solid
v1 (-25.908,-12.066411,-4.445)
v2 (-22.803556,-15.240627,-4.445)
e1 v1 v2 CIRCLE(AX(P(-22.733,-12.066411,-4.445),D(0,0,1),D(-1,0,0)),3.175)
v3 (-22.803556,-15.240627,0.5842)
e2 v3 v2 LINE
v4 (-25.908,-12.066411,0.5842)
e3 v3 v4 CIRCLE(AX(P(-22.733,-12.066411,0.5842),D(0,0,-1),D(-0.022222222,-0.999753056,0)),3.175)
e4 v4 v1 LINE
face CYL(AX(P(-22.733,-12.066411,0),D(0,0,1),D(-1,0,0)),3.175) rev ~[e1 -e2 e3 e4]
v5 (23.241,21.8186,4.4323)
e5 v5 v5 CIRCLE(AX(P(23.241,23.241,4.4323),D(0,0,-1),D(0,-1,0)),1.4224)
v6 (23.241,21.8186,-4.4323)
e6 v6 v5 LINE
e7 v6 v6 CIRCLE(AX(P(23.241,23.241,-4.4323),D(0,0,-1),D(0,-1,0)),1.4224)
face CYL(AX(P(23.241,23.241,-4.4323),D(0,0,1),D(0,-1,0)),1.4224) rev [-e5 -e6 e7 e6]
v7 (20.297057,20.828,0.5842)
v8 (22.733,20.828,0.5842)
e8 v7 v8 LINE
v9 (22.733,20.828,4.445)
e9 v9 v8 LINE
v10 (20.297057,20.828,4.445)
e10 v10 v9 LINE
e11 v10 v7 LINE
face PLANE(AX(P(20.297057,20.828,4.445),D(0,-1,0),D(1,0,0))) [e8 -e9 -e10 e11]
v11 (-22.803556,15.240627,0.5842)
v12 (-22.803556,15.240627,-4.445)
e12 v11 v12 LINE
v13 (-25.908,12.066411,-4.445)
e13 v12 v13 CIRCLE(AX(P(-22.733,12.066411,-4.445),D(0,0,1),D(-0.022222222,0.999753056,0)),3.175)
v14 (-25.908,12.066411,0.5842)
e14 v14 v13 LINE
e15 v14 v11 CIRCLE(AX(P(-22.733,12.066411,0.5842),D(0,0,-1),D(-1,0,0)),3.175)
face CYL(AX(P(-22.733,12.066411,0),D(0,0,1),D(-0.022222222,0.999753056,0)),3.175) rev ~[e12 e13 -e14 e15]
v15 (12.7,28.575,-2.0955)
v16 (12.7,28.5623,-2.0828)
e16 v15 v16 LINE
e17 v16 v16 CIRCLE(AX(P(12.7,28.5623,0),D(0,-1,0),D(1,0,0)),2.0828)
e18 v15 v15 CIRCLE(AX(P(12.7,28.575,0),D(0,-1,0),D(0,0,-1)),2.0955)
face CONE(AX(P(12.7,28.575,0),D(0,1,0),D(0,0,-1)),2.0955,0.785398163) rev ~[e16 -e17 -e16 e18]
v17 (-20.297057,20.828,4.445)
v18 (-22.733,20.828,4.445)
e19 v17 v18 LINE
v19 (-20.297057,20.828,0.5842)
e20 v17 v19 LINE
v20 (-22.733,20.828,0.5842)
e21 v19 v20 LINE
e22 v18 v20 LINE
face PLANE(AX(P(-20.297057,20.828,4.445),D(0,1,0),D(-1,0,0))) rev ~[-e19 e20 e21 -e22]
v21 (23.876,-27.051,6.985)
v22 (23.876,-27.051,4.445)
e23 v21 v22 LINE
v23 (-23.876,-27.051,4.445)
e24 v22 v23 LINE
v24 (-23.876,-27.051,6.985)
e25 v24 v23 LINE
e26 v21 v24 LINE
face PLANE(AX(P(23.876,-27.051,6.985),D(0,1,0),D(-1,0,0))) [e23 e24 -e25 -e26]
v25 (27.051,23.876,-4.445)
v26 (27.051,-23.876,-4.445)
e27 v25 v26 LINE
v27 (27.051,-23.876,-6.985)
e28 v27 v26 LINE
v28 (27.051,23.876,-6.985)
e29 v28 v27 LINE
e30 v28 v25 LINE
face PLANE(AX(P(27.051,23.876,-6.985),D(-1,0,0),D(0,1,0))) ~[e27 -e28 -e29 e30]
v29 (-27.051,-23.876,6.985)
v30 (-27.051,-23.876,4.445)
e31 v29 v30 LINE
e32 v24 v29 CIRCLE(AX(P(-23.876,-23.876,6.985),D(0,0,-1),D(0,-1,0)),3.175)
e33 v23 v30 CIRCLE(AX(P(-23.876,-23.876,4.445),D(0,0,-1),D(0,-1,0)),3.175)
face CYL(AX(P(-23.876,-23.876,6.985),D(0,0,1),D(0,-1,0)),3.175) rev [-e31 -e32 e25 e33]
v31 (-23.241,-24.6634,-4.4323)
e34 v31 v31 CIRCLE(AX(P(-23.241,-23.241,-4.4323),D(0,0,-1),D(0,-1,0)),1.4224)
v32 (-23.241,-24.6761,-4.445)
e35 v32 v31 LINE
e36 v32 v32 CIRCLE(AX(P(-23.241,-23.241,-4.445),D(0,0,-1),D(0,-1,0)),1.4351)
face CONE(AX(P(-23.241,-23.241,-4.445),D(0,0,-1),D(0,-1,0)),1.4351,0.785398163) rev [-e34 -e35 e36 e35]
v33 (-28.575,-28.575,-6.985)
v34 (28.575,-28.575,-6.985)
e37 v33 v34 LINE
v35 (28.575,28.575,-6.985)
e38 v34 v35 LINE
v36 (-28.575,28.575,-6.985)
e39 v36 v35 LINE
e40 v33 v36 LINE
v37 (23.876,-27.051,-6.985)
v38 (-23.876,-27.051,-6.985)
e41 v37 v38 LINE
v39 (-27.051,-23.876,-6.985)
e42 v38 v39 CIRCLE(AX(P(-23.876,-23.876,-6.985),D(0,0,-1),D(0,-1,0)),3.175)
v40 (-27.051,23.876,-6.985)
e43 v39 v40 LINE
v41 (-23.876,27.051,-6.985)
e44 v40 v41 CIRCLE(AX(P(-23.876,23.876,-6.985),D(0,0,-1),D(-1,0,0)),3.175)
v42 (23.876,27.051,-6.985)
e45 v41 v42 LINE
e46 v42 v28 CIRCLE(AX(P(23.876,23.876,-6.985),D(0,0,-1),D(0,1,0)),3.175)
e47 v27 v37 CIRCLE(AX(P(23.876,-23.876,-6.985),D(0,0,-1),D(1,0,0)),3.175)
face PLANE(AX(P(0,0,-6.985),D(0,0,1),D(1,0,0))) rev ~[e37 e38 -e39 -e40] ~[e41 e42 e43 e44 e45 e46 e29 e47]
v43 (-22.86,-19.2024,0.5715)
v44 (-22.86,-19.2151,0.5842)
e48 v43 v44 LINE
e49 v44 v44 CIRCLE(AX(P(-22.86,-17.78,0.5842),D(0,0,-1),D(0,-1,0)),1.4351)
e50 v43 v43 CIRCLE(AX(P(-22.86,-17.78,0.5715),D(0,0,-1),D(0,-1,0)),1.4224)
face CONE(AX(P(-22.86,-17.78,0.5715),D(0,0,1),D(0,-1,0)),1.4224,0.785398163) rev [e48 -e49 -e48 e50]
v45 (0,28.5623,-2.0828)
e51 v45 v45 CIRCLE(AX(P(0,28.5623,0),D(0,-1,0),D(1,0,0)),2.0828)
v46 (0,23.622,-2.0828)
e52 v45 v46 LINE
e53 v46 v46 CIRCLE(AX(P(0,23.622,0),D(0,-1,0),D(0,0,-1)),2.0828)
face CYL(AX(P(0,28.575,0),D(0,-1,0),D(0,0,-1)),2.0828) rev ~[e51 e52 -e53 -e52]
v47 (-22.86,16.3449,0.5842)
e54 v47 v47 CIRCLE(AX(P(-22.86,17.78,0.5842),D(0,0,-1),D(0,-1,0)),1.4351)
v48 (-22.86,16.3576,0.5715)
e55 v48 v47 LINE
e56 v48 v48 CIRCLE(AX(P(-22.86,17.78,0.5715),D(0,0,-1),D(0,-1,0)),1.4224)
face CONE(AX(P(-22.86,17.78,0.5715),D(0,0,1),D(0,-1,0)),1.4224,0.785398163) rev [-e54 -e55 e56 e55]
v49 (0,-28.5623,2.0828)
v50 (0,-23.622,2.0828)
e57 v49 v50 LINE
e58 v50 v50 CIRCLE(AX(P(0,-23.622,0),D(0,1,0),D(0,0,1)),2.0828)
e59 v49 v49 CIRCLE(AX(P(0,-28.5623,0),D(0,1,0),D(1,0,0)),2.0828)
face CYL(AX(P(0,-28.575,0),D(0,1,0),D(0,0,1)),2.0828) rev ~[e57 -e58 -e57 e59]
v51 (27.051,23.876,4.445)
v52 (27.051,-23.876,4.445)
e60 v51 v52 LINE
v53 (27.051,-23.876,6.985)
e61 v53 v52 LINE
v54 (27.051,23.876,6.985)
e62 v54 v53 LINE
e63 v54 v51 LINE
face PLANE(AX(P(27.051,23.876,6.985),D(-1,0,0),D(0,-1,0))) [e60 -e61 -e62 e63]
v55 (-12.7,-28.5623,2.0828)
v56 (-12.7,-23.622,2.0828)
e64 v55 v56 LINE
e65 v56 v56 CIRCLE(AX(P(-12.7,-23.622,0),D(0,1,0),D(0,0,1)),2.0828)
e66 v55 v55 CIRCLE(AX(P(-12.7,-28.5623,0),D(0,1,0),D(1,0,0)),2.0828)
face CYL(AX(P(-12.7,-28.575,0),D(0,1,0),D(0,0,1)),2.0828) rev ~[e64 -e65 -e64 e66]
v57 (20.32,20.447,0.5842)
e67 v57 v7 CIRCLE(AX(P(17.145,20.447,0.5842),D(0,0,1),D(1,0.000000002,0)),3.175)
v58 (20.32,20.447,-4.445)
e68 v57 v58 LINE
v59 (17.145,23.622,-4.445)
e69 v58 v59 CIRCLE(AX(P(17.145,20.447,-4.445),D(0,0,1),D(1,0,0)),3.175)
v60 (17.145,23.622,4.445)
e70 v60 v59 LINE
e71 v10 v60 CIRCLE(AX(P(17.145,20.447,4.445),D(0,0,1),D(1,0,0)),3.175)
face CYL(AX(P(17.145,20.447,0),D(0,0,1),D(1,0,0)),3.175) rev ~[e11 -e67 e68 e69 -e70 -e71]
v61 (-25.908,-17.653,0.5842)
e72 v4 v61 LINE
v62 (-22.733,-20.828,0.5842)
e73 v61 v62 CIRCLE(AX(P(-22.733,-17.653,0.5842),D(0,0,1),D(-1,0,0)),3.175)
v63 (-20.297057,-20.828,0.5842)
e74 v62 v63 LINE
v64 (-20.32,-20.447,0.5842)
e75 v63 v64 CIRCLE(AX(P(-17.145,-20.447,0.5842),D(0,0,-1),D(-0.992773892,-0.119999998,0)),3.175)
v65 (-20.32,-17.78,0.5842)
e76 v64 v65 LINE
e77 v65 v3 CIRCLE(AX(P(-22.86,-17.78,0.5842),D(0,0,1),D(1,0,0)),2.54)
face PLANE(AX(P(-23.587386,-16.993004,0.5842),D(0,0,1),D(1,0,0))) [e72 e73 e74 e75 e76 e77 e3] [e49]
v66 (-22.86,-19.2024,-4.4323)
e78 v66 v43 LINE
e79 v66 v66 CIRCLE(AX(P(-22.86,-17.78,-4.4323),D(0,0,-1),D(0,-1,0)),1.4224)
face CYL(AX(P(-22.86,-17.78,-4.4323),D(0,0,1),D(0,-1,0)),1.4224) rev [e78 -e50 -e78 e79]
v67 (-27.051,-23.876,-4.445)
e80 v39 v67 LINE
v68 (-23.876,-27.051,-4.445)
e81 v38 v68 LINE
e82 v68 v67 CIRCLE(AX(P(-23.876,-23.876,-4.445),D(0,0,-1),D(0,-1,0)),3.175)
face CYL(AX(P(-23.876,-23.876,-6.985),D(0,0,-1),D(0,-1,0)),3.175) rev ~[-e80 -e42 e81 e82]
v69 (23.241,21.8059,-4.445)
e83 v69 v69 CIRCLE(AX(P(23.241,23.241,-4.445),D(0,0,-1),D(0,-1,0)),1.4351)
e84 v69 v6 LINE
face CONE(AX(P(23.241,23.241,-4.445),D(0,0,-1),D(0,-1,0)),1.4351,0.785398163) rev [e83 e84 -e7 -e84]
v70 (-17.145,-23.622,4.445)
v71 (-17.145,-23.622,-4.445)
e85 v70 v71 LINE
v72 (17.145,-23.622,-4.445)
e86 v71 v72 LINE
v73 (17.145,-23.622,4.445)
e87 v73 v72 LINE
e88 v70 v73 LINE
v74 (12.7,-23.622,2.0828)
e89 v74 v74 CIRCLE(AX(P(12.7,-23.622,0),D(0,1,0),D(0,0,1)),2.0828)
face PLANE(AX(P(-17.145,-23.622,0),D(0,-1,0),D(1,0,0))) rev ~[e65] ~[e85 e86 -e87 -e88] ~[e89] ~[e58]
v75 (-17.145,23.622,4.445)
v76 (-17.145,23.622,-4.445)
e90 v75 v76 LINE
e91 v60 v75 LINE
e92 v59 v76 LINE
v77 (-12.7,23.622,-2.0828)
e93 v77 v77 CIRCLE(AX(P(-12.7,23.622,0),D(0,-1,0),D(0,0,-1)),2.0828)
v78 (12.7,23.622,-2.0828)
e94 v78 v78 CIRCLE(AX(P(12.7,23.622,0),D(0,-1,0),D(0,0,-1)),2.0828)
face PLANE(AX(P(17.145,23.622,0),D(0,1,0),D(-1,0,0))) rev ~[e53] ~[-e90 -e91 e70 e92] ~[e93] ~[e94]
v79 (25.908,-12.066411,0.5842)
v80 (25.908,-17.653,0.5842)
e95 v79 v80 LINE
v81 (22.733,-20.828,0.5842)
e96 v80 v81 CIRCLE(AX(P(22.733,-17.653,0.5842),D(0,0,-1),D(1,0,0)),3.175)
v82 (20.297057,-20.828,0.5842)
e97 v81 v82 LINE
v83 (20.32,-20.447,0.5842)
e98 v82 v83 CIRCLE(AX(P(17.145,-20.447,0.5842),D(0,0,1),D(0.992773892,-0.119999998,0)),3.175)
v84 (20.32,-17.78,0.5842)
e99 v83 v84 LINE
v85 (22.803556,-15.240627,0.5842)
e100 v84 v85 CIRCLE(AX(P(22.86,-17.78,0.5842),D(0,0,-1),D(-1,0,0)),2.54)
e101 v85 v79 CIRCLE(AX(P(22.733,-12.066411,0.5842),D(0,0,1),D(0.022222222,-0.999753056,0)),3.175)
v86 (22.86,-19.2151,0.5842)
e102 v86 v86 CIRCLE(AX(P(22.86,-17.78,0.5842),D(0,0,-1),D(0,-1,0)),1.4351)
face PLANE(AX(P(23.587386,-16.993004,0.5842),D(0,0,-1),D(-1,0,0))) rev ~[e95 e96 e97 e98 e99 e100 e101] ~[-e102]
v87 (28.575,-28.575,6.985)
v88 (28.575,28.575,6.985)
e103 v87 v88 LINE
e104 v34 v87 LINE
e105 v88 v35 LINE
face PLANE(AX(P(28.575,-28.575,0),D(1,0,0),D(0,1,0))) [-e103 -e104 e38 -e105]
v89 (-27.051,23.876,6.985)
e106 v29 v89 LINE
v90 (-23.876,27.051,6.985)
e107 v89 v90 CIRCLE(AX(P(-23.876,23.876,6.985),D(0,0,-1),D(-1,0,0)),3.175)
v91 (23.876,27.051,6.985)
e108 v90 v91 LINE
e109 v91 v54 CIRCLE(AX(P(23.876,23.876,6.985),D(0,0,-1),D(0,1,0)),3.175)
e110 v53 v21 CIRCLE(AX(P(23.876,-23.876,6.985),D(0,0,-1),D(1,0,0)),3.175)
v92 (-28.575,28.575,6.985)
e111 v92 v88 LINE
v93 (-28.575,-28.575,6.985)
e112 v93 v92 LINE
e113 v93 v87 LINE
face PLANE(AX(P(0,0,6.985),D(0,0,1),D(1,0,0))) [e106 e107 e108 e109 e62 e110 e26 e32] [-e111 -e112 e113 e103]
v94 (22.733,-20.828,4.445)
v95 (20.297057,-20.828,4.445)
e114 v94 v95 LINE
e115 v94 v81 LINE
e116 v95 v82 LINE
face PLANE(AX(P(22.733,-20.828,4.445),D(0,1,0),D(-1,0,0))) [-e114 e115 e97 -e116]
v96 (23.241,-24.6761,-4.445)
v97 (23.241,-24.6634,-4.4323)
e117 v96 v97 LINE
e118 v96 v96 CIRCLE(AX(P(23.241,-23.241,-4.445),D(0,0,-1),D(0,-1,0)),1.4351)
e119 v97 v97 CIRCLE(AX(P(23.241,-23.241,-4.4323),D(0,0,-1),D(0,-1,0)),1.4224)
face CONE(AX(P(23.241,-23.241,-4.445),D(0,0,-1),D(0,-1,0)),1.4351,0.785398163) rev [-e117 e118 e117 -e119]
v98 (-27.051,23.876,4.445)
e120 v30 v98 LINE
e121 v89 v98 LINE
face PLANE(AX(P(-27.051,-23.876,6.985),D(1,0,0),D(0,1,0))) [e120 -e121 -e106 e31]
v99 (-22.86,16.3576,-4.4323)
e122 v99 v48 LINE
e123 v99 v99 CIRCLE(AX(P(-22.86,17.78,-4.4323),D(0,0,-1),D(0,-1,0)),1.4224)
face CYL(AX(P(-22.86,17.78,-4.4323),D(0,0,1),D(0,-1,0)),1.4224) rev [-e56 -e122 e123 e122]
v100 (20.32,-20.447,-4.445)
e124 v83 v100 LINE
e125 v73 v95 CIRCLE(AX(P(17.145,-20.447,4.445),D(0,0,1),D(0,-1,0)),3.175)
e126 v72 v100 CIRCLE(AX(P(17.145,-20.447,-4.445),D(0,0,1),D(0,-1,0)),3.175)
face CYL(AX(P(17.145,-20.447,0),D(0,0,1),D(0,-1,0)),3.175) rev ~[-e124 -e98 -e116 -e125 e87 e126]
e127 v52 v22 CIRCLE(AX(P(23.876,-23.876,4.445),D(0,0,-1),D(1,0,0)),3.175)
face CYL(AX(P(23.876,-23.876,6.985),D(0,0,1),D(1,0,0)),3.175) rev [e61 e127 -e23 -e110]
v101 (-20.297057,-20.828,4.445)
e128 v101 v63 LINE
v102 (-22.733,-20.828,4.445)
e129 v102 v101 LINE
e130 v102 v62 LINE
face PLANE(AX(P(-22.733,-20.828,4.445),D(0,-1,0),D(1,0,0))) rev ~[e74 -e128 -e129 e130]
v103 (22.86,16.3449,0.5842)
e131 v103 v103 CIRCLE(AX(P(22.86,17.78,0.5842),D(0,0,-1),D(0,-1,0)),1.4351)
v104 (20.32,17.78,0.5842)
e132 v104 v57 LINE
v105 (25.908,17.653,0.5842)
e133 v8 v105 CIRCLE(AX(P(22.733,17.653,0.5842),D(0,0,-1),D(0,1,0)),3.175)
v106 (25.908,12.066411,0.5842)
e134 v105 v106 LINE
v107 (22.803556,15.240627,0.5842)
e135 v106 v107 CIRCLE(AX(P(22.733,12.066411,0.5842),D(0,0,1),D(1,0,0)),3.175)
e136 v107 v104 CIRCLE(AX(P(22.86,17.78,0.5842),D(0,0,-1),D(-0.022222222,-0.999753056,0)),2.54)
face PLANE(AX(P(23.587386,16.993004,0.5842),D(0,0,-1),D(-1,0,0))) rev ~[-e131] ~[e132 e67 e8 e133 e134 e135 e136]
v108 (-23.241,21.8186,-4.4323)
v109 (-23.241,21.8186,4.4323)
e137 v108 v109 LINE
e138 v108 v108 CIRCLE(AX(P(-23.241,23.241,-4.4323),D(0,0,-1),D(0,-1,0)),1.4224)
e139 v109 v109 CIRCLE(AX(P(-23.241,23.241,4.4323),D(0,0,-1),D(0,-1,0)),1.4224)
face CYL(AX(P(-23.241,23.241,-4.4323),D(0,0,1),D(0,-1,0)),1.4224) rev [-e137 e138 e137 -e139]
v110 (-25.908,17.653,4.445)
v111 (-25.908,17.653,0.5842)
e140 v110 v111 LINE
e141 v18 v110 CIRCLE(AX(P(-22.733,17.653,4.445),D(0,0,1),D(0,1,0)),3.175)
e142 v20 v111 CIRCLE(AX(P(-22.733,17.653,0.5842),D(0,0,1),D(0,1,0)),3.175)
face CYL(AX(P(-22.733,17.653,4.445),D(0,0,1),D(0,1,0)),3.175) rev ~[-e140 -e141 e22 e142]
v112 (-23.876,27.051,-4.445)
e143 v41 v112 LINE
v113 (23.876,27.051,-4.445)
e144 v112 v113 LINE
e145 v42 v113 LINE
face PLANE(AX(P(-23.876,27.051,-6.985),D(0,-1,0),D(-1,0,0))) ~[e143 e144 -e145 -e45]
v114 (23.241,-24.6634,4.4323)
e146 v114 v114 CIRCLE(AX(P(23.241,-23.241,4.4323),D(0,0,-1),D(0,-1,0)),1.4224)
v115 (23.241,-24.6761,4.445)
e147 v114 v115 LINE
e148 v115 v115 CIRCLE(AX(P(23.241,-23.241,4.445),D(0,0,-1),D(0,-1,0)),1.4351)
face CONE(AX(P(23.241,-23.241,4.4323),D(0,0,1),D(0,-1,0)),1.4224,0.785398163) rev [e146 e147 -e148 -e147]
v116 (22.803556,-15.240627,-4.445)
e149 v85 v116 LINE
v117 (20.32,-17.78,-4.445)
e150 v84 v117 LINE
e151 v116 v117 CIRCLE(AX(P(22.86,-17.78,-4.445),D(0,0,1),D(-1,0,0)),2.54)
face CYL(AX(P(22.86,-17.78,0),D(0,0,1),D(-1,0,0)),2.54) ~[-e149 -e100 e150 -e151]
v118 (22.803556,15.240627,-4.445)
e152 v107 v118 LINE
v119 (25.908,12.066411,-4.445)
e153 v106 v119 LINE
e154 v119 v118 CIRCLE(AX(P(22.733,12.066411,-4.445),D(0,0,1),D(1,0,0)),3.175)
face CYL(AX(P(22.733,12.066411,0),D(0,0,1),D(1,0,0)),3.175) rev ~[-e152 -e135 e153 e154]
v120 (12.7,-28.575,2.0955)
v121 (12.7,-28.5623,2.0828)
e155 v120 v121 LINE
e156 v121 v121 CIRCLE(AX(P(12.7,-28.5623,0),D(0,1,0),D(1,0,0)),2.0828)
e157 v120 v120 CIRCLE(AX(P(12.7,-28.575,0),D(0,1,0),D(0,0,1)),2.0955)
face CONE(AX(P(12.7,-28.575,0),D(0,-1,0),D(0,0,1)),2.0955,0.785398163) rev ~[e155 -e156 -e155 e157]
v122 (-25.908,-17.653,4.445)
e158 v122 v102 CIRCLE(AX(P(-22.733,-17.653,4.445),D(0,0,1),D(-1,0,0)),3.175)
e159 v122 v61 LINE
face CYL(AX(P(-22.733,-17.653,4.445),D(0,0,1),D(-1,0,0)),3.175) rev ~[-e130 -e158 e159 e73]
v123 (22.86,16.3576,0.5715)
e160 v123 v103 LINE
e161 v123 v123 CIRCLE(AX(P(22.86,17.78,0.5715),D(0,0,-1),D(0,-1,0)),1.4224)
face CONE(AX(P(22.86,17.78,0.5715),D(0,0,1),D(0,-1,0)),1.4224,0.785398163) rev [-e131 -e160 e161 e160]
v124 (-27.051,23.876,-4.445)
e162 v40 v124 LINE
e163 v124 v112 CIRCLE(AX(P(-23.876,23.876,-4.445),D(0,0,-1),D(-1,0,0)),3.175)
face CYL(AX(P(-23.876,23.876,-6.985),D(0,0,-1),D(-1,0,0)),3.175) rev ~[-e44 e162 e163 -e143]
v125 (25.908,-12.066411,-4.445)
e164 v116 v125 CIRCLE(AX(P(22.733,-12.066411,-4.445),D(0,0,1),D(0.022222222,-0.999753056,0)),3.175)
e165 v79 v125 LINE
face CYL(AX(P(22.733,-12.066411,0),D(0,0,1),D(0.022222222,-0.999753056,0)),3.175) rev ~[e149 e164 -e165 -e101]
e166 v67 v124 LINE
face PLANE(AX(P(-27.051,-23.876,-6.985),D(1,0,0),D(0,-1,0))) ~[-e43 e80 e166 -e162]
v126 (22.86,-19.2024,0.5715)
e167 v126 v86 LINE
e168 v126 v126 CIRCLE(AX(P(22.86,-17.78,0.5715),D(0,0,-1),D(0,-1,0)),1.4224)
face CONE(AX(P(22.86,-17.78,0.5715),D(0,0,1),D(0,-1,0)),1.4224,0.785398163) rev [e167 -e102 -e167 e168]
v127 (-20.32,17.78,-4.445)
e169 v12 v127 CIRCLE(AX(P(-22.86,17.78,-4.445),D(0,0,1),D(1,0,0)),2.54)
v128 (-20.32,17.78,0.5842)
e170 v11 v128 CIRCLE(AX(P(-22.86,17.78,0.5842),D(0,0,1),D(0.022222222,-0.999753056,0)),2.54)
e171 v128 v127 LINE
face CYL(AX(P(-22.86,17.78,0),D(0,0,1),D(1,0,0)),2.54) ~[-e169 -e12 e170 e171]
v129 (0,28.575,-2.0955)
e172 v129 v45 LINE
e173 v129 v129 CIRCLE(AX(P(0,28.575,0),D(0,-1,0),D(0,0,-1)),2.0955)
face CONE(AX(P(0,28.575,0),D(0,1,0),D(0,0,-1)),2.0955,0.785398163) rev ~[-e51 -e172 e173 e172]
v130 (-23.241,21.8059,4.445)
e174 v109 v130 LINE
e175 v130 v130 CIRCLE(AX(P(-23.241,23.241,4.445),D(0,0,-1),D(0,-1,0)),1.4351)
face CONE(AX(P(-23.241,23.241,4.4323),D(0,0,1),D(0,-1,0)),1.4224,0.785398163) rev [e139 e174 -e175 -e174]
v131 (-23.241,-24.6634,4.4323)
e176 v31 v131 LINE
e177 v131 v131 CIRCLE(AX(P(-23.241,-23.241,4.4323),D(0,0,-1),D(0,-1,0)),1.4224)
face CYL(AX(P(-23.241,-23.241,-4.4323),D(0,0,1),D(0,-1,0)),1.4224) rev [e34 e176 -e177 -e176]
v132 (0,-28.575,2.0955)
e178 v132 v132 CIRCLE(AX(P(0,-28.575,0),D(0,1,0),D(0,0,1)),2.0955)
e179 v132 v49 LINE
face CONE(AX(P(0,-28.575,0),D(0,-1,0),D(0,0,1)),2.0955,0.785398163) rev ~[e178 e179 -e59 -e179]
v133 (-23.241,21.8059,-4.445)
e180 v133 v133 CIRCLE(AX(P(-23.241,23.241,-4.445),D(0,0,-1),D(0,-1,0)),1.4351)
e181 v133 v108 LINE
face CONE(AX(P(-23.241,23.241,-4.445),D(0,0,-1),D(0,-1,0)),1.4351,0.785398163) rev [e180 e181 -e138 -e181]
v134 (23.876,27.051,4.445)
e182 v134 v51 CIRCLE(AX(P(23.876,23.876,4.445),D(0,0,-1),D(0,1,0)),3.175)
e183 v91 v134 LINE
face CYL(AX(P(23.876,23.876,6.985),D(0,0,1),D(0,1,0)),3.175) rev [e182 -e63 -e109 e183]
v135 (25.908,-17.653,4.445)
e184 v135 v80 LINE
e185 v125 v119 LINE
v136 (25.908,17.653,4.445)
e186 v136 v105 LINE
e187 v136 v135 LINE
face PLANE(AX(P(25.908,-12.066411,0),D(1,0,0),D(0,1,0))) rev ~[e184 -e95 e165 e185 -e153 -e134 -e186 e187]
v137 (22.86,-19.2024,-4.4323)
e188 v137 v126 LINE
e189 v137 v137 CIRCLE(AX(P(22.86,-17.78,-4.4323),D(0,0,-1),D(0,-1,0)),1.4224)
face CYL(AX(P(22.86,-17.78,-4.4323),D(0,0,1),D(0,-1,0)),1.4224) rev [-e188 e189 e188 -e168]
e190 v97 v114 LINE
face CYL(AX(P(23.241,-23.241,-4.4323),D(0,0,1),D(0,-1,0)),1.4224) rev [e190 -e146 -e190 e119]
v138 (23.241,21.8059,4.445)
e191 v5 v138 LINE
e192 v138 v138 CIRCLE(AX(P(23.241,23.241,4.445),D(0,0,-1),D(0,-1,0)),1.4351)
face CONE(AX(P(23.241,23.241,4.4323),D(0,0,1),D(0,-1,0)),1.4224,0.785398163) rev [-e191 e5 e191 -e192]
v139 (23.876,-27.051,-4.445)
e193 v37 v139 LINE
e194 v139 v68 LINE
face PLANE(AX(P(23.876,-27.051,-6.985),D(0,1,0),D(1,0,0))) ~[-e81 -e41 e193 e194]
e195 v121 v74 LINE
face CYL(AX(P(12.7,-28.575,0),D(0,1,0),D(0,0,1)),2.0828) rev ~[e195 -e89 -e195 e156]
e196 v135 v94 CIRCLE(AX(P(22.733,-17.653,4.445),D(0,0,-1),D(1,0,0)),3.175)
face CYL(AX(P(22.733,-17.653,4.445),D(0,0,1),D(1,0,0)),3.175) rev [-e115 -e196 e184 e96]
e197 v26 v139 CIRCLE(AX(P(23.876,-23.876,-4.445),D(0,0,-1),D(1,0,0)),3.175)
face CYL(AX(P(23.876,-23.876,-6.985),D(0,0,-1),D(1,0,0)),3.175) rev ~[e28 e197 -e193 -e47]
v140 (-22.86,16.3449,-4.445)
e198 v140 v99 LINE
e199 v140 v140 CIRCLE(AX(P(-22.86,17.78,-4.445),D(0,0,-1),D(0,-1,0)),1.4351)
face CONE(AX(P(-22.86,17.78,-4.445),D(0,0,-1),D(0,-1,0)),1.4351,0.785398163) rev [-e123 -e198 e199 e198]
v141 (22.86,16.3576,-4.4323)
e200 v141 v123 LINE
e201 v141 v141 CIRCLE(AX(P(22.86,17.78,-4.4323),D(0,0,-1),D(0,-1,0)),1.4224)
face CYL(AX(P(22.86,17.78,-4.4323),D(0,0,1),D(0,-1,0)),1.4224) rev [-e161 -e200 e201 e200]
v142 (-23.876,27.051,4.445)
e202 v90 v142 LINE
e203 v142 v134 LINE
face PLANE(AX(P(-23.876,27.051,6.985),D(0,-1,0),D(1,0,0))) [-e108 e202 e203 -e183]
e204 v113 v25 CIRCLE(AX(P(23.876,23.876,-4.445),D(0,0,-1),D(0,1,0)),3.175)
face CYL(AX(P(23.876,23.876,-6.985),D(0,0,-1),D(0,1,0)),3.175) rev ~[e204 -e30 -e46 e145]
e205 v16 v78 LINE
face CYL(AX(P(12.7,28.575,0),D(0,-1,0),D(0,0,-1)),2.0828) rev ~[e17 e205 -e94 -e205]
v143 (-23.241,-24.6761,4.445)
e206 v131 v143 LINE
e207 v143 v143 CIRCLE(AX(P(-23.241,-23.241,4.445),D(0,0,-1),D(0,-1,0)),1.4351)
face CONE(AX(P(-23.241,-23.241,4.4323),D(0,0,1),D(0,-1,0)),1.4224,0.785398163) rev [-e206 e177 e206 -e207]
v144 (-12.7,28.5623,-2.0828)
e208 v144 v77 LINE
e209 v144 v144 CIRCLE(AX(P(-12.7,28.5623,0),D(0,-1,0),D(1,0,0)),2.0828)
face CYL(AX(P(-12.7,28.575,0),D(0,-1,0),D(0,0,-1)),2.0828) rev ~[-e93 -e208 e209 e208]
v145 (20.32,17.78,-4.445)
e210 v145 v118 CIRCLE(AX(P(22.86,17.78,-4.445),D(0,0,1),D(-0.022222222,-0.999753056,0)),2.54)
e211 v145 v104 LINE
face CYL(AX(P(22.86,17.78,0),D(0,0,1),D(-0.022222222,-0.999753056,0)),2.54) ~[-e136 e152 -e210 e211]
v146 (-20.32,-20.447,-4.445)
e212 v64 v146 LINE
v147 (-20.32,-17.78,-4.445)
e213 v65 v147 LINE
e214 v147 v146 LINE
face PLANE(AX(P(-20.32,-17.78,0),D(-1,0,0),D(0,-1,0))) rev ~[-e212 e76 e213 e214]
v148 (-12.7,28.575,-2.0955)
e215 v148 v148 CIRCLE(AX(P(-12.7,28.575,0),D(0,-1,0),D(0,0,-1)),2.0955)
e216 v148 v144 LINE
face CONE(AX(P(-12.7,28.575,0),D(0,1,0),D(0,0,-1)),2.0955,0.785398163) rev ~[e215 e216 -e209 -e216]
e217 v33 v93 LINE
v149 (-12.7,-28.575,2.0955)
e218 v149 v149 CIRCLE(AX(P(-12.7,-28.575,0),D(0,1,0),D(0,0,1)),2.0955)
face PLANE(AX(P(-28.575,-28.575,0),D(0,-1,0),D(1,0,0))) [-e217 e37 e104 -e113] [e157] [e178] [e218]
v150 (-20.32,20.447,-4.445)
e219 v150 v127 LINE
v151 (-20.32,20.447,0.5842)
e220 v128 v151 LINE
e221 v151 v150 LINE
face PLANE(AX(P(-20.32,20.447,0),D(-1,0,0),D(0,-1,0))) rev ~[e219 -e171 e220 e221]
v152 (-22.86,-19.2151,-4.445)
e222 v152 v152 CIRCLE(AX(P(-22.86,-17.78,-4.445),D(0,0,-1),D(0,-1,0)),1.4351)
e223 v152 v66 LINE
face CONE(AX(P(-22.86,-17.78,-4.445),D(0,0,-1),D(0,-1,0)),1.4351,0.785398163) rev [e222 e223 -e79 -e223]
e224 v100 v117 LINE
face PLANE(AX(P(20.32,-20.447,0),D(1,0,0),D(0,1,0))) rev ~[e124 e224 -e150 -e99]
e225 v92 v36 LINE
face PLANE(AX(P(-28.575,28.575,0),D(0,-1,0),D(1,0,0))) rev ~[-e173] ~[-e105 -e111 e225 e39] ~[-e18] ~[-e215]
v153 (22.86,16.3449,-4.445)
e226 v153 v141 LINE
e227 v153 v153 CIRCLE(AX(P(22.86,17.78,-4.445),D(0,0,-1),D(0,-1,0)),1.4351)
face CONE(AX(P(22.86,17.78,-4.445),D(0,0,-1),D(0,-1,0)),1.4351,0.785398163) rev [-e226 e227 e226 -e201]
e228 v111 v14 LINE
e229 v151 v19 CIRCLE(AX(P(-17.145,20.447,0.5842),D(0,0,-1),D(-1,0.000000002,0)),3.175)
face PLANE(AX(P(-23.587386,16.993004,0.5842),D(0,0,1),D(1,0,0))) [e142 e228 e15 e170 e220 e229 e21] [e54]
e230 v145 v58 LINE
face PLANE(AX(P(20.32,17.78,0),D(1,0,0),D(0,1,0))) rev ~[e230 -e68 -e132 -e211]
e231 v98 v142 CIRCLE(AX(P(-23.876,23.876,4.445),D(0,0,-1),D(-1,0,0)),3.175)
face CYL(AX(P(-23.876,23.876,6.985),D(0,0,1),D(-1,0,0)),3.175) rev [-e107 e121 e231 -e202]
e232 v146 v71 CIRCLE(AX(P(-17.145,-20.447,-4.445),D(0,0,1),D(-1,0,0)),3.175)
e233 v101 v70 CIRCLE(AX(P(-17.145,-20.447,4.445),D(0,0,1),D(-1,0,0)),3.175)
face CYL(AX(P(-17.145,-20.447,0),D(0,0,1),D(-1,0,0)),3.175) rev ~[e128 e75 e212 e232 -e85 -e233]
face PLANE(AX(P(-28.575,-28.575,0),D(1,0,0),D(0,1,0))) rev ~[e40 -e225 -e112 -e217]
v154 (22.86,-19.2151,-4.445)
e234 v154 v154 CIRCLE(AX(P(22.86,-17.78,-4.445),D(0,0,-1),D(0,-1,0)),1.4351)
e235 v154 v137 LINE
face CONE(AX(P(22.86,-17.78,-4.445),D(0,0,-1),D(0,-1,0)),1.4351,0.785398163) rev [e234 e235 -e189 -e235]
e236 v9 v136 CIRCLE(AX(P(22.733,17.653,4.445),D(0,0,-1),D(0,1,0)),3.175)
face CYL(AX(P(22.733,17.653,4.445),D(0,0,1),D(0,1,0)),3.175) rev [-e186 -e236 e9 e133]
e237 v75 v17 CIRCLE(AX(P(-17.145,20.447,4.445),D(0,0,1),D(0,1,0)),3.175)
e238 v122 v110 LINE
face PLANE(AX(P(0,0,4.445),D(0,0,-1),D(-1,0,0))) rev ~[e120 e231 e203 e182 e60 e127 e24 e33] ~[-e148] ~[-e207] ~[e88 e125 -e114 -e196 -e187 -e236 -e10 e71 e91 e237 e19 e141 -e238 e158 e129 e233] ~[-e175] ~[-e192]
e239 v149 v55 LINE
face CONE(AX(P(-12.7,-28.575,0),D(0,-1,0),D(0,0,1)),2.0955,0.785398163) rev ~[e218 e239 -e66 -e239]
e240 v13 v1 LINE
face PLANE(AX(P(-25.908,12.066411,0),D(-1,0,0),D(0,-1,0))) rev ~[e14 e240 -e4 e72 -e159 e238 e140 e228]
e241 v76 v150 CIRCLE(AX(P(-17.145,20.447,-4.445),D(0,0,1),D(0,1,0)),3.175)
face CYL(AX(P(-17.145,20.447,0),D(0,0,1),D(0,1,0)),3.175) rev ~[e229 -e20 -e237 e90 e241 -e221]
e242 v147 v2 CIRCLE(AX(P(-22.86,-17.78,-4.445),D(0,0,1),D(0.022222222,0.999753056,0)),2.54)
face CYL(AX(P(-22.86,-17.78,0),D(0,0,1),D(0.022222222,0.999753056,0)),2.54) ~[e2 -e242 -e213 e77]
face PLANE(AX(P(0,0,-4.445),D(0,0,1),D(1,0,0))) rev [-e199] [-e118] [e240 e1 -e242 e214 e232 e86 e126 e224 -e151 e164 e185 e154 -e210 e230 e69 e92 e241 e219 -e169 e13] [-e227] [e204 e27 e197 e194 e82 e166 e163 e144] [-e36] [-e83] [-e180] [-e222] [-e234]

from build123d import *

# Parameters (mm, degrees)
SKETCH1_W_MOCK_PCB_W                      = 57.15
SKETCH1_W_MOCK_PCB_H                      = 57.15
BOSS_EXTRUDE1_DEPTH                       = 6.985
CUT_EXTRUDE1_DEPTH                        = 2.54
CUT_EXTRUDE3_DEPTH                        = 3.8608
F_4_40_TAPPED_HOLE1_AT_2_COUNT            = 2
F_4_40_TAPPED_HOLE1_AT_2_PITCH            = 45.72
F_4_40_TAPPED_HOLE1_AT_3_COUNT            = 2
F_4_40_TAPPED_HOLE1_AT_3_PITCH            = 35.56
F_4_40_TAPPED_HOLE1_AT_4_COUNT            = 2
F_4_40_TAPPED_HOLE1_AT_4_PITCH            = 57.920911595
F_4_40_TAPPED_HOLE2_AT_2_COUNT            = 2
F_4_40_TAPPED_HOLE2_AT_2_PITCH            = 46.482
F_4_40_TAPPED_HOLE2_AT_3_COUNT            = 2
F_4_40_TAPPED_HOLE2_AT_3_PITCH            = 65.735474806
F_4_40_TAPPED_HOLE2_AT_4_COUNT            = 2
F_4_40_TAPPED_HOLE2_AT_4_PITCH            = 46.482
F_8_32_TAPPED_HOLE1_D                     = 4.1656
F_8_32_TAPPED_HOLE1_DEPTH                 = 4.953
F_8_32_TAPPED_HOLE1_CSINK_D               = 4.191
F_8_32_TAPPED_HOLE1_CSINK_ANGLE           = 90
F_8_32_TAPPED_HOLE1_ON_FACE_2_D           = 4.1656
F_8_32_TAPPED_HOLE1_ON_FACE_2_DEPTH       = 4.953
F_8_32_TAPPED_HOLE1_ON_FACE_2_CSINK_D     = 4.191
F_8_32_TAPPED_HOLE1_ON_FACE_2_CSINK_ANGLE = 90


with BuildPart() as part:
    # Sketch1 w/mock PCB → Boss-Extrude1 (new body, symmetric)
    with BuildSketch(Plane.XY):
        Rectangle(SKETCH1_W_MOCK_PCB_W, SKETCH1_W_MOCK_PCB_H)
        with BuildLine():
            Line((20.32, 17.78), (20.32, 20.447))
            ThreePointArc((20.32, 20.447), (19.39006403, 22.69206403), (17.145, 23.622))
            Line((17.145, 23.622), (-17.145, 23.622))
            ThreePointArc((-17.145, 23.622), (-19.39006403, 22.69206403), (-20.32, 20.447))
            Line((-20.32, 20.447), (-20.32, 17.78))
            ThreePointArc((-20.32, 17.78), (-21.044102303, 16.004017017), (-22.803555556, 15.240627238))
            ThreePointArc((-22.803555556, 15.240627238), (-25.002872121, 14.286390014), (-25.908, 12.066411285))
            Line((-25.908, 12.066411285), (-25.908, -12.066411285))
            ThreePointArc((-25.908, -12.066411285), (-25.002872121, -14.286390014), (-22.803555556, -15.240627238))
            ThreePointArc((-22.803555556, -15.240627238), (-21.044102303, -16.004017017), (-20.32, -17.78))
            Line((-20.32, -17.78), (-20.32, -20.447))
            ThreePointArc((-20.32, -20.447), (-19.39006403, -22.69206403), (-17.145, -23.622))
            Line((-17.145, -23.622), (17.145, -23.622))
            ThreePointArc((17.145, -23.622), (19.39006403, -22.69206403), (20.32, -20.447))
            Line((20.32, -20.447), (20.32, -17.78))
            ThreePointArc((20.32, -17.78), (21.044102303, -16.004017017), (22.803555556, -15.240627238))
            ThreePointArc((22.803555556, -15.240627238), (25.002872121, -14.286390014), (25.908, -12.066411285))
            Line((25.908, -12.066411285), (25.908, 12.066411285))
            ThreePointArc((25.908, 12.066411285), (25.002872121, 14.286390014), (22.803555556, 15.240627238))
            ThreePointArc((22.803555556, 15.240627238), (21.044102303, 16.004017017), (20.32, 17.78))
        make_face(mode=Mode.SUBTRACT)
    extrude(amount=BOSS_EXTRUDE1_DEPTH, both=True)

    # Sketch2 → Cut-Extrude1 (cut)
    with BuildSketch(Plane.XY.offset(6.985)):
        with BuildLine():
            Line((-23.876, 27.051), (23.876, 27.051))
            ThreePointArc((23.876, 27.051), (26.12106403, 26.12106403), (27.051, 23.876))
            Line((27.051, 23.876), (27.051, -23.876))
            ThreePointArc((27.051, -23.876), (26.12106403, -26.12106403), (23.876, -27.051))
            Line((23.876, -27.051), (-23.876, -27.051))
            ThreePointArc((-23.876, -27.051), (-26.12106403, -26.12106403), (-27.051, -23.876))
            Line((-27.051, -23.876), (-27.051, 23.876))
            ThreePointArc((-27.051, 23.876), (-26.12106403, 26.12106403), (-23.876, 27.051))
        make_face()
    cut_extrude1 = extrude(amount=-CUT_EXTRUDE1_DEPTH, mode=Mode.SUBTRACT)

    # Mirror1: Cut-Extrude1 across plane
    add(cut_extrude1.mirror(Plane.XY), mode=Mode.SUBTRACT)

    # Sketch4 → Cut-Extrude3 (cut)
    with BuildSketch(Plane.XY.offset(4.445)):
        with BuildLine():
            Line((-20.32, 17.78), (-20.32, 20.447))
            ThreePointArc((-20.32, 20.447), (-20.314259086, 20.637845079), (-20.297057106, 20.828))
            Line((-20.297057106, 20.828), (-22.733, 20.828))
            ThreePointArc((-22.733, 20.828), (-24.97806403, 19.89806403), (-25.908, 17.653))
            Line((-25.908, 17.653), (-25.908, 12.066411285))
            ThreePointArc((-25.908, 12.066411285), (-25.002872121, 14.286390014), (-22.803555556, 15.240627238))
            ThreePointArc((-22.803555556, 15.240627238), (-21.044102303, 16.004017017), (-20.32, 17.78))
        make_face()
        with BuildLine():
            Line((25.908, -12.066411285), (25.908, -17.653))
            ThreePointArc((25.908, -17.653), (24.97806403, -19.89806403), (22.733, -20.828))
            Line((22.733, -20.828), (20.297057106, -20.828))
            ThreePointArc((20.297057106, -20.828), (20.314259086, -20.637845079), (20.32, -20.447))
            Line((20.32, -20.447), (20.32, -17.78))
            ThreePointArc((20.32, -17.78), (21.044102303, -16.004017017), (22.803555556, -15.240627238))
            ThreePointArc((22.803555556, -15.240627238), (25.002872121, -14.286390014), (25.908, -12.066411285))
        make_face()
        with BuildLine():
            Line((-25.908, -12.066411285), (-25.908, -17.653))
            ThreePointArc((-25.908, -17.653), (-24.97806403, -19.89806403), (-22.733, -20.828))
            Line((-22.733, -20.828), (-20.297057106, -20.828))
            ThreePointArc((-20.297057106, -20.828), (-20.314259086, -20.637845079), (-20.32, -20.447))
            Line((-20.32, -20.447), (-20.32, -17.78))
            ThreePointArc((-20.32, -17.78), (-21.044102303, -16.004017017), (-22.803555556, -15.240627238))
            ThreePointArc((-22.803555556, -15.240627238), (-25.002872121, -14.286390014), (-25.908, -12.066411285))
        make_face()
        with BuildLine():
            Line((20.297057106, 20.828), (22.733, 20.828))
            ThreePointArc((22.733, 20.828), (24.97806403, 19.89806403), (25.908, 17.653))
            Line((25.908, 17.653), (25.908, 12.066411285))
            ThreePointArc((25.908, 12.066411285), (25.002872121, 14.286390014), (22.803555556, 15.240627238))
            ThreePointArc((22.803555556, 15.240627238), (21.044102303, 16.004017017), (20.32, 17.78))
            Line((20.32, 17.78), (20.32, 20.447))
            ThreePointArc((20.32, 20.447), (20.314259086, 20.637845079), (20.297057106, 20.828))
        make_face()
    extrude(amount=-CUT_EXTRUDE3_DEPTH, mode=Mode.SUBTRACT)

    # Sketch11 → #4-40 Tapped Hole1 (revolve, cut)
    with BuildSketch(Plane(origin=(22.86, 17.78, 0.5842), x_dir=(0, -1, 0), z_dir=(1, 0, 0))):
        Polygon((0, 0), (0, 5.0292), (1.4351, 5.0292), (1.4224, 5.0165), (1.4224, 0.0127), (1.4351, 0), align=None)
    f_4_40_tapped_hole1 = revolve(axis=Axis((22.86, 17.78, 6.9342), (0, 0, -1)), mode=Mode.SUBTRACT)

    # #4-40 Tapped Hole1 at 2: #4-40 Tapped Hole1 ×2
    with Locations(*[(-i * F_4_40_TAPPED_HOLE1_AT_2_PITCH, 0, 0) for i in range(1, F_4_40_TAPPED_HOLE1_AT_2_COUNT)]):
        add(f_4_40_tapped_hole1, mode=Mode.SUBTRACT)

    # #4-40 Tapped Hole1 at 3: #4-40 Tapped Hole1 ×2
    with Locations(*[(0, -i * F_4_40_TAPPED_HOLE1_AT_3_PITCH, 0) for i in range(1, F_4_40_TAPPED_HOLE1_AT_3_COUNT)]):
        add(f_4_40_tapped_hole1, mode=Mode.SUBTRACT)

    # #4-40 Tapped Hole1 at 4: #4-40 Tapped Hole1 ×2
    with Locations(*[Vector(-0.789352217, -0.613940614, 0) * (i * F_4_40_TAPPED_HOLE1_AT_4_PITCH) for i in range(1, F_4_40_TAPPED_HOLE1_AT_4_COUNT)]):
        add(f_4_40_tapped_hole1, mode=Mode.SUBTRACT)

    # Sketch22 → #4-40 Tapped Hole2 (revolve, cut)
    with BuildSketch(Plane(origin=(-23.241, 23.241, 4.445), x_dir=(0, -1, 0), z_dir=(1, 0, 0))):
        Polygon((0, 0), (0, 8.89), (1.4351, 8.89), (1.4224, 8.8773), (1.4224, 0.0127), (1.4351, 0), align=None)
    f_4_40_tapped_hole2 = revolve(axis=Axis((-23.241, 23.241, 10.795), (0, 0, -1)), mode=Mode.SUBTRACT)

    # #4-40 Tapped Hole2 at 2: #4-40 Tapped Hole2 ×2
    with Locations(*[(i * F_4_40_TAPPED_HOLE2_AT_2_PITCH, 0, 0) for i in range(1, F_4_40_TAPPED_HOLE2_AT_2_COUNT)]):
        add(f_4_40_tapped_hole2, mode=Mode.SUBTRACT)

    # #4-40 Tapped Hole2 at 3: #4-40 Tapped Hole2 ×2
    with Locations(*[Vector(0.707106781, -0.707106781, 0) * (i * F_4_40_TAPPED_HOLE2_AT_3_PITCH) for i in range(1, F_4_40_TAPPED_HOLE2_AT_3_COUNT)]):
        add(f_4_40_tapped_hole2, mode=Mode.SUBTRACT)

    # #4-40 Tapped Hole2 at 4: #4-40 Tapped Hole2 ×2
    with Locations(*[(0, -i * F_4_40_TAPPED_HOLE2_AT_4_PITCH, 0) for i in range(1, F_4_40_TAPPED_HOLE2_AT_4_COUNT)]):
        add(f_4_40_tapped_hole2, mode=Mode.SUBTRACT)

    # #8-32 Tapped Hole1
    with Locations(Plane(origin=(-12.7, 28.575, 0), x_dir=(0, 0, 1), z_dir=(0, 1, 0))):
        with Locations((0, 0), (0, 25.4), (0, 12.7)):
            CounterSinkHole(F_8_32_TAPPED_HOLE1_D / 2, F_8_32_TAPPED_HOLE1_CSINK_D / 2, depth=F_8_32_TAPPED_HOLE1_DEPTH, counter_sink_angle=F_8_32_TAPPED_HOLE1_CSINK_ANGLE)

    # #8-32 Tapped Hole1 on face 2
    with Locations(Plane(origin=(12.7, -28.575, 0), x_dir=(0, 0, -1), z_dir=(0, -1, 0))):
        with Locations((0, 0), (0, -12.7), (0, -25.4)):
            CounterSinkHole(F_8_32_TAPPED_HOLE1_ON_FACE_2_D / 2, F_8_32_TAPPED_HOLE1_ON_FACE_2_CSINK_D / 2, depth=F_8_32_TAPPED_HOLE1_ON_FACE_2_DEPTH, counter_sink_angle=F_8_32_TAPPED_HOLE1_ON_FACE_2_CSINK_ANGLE)


solid = part.part
